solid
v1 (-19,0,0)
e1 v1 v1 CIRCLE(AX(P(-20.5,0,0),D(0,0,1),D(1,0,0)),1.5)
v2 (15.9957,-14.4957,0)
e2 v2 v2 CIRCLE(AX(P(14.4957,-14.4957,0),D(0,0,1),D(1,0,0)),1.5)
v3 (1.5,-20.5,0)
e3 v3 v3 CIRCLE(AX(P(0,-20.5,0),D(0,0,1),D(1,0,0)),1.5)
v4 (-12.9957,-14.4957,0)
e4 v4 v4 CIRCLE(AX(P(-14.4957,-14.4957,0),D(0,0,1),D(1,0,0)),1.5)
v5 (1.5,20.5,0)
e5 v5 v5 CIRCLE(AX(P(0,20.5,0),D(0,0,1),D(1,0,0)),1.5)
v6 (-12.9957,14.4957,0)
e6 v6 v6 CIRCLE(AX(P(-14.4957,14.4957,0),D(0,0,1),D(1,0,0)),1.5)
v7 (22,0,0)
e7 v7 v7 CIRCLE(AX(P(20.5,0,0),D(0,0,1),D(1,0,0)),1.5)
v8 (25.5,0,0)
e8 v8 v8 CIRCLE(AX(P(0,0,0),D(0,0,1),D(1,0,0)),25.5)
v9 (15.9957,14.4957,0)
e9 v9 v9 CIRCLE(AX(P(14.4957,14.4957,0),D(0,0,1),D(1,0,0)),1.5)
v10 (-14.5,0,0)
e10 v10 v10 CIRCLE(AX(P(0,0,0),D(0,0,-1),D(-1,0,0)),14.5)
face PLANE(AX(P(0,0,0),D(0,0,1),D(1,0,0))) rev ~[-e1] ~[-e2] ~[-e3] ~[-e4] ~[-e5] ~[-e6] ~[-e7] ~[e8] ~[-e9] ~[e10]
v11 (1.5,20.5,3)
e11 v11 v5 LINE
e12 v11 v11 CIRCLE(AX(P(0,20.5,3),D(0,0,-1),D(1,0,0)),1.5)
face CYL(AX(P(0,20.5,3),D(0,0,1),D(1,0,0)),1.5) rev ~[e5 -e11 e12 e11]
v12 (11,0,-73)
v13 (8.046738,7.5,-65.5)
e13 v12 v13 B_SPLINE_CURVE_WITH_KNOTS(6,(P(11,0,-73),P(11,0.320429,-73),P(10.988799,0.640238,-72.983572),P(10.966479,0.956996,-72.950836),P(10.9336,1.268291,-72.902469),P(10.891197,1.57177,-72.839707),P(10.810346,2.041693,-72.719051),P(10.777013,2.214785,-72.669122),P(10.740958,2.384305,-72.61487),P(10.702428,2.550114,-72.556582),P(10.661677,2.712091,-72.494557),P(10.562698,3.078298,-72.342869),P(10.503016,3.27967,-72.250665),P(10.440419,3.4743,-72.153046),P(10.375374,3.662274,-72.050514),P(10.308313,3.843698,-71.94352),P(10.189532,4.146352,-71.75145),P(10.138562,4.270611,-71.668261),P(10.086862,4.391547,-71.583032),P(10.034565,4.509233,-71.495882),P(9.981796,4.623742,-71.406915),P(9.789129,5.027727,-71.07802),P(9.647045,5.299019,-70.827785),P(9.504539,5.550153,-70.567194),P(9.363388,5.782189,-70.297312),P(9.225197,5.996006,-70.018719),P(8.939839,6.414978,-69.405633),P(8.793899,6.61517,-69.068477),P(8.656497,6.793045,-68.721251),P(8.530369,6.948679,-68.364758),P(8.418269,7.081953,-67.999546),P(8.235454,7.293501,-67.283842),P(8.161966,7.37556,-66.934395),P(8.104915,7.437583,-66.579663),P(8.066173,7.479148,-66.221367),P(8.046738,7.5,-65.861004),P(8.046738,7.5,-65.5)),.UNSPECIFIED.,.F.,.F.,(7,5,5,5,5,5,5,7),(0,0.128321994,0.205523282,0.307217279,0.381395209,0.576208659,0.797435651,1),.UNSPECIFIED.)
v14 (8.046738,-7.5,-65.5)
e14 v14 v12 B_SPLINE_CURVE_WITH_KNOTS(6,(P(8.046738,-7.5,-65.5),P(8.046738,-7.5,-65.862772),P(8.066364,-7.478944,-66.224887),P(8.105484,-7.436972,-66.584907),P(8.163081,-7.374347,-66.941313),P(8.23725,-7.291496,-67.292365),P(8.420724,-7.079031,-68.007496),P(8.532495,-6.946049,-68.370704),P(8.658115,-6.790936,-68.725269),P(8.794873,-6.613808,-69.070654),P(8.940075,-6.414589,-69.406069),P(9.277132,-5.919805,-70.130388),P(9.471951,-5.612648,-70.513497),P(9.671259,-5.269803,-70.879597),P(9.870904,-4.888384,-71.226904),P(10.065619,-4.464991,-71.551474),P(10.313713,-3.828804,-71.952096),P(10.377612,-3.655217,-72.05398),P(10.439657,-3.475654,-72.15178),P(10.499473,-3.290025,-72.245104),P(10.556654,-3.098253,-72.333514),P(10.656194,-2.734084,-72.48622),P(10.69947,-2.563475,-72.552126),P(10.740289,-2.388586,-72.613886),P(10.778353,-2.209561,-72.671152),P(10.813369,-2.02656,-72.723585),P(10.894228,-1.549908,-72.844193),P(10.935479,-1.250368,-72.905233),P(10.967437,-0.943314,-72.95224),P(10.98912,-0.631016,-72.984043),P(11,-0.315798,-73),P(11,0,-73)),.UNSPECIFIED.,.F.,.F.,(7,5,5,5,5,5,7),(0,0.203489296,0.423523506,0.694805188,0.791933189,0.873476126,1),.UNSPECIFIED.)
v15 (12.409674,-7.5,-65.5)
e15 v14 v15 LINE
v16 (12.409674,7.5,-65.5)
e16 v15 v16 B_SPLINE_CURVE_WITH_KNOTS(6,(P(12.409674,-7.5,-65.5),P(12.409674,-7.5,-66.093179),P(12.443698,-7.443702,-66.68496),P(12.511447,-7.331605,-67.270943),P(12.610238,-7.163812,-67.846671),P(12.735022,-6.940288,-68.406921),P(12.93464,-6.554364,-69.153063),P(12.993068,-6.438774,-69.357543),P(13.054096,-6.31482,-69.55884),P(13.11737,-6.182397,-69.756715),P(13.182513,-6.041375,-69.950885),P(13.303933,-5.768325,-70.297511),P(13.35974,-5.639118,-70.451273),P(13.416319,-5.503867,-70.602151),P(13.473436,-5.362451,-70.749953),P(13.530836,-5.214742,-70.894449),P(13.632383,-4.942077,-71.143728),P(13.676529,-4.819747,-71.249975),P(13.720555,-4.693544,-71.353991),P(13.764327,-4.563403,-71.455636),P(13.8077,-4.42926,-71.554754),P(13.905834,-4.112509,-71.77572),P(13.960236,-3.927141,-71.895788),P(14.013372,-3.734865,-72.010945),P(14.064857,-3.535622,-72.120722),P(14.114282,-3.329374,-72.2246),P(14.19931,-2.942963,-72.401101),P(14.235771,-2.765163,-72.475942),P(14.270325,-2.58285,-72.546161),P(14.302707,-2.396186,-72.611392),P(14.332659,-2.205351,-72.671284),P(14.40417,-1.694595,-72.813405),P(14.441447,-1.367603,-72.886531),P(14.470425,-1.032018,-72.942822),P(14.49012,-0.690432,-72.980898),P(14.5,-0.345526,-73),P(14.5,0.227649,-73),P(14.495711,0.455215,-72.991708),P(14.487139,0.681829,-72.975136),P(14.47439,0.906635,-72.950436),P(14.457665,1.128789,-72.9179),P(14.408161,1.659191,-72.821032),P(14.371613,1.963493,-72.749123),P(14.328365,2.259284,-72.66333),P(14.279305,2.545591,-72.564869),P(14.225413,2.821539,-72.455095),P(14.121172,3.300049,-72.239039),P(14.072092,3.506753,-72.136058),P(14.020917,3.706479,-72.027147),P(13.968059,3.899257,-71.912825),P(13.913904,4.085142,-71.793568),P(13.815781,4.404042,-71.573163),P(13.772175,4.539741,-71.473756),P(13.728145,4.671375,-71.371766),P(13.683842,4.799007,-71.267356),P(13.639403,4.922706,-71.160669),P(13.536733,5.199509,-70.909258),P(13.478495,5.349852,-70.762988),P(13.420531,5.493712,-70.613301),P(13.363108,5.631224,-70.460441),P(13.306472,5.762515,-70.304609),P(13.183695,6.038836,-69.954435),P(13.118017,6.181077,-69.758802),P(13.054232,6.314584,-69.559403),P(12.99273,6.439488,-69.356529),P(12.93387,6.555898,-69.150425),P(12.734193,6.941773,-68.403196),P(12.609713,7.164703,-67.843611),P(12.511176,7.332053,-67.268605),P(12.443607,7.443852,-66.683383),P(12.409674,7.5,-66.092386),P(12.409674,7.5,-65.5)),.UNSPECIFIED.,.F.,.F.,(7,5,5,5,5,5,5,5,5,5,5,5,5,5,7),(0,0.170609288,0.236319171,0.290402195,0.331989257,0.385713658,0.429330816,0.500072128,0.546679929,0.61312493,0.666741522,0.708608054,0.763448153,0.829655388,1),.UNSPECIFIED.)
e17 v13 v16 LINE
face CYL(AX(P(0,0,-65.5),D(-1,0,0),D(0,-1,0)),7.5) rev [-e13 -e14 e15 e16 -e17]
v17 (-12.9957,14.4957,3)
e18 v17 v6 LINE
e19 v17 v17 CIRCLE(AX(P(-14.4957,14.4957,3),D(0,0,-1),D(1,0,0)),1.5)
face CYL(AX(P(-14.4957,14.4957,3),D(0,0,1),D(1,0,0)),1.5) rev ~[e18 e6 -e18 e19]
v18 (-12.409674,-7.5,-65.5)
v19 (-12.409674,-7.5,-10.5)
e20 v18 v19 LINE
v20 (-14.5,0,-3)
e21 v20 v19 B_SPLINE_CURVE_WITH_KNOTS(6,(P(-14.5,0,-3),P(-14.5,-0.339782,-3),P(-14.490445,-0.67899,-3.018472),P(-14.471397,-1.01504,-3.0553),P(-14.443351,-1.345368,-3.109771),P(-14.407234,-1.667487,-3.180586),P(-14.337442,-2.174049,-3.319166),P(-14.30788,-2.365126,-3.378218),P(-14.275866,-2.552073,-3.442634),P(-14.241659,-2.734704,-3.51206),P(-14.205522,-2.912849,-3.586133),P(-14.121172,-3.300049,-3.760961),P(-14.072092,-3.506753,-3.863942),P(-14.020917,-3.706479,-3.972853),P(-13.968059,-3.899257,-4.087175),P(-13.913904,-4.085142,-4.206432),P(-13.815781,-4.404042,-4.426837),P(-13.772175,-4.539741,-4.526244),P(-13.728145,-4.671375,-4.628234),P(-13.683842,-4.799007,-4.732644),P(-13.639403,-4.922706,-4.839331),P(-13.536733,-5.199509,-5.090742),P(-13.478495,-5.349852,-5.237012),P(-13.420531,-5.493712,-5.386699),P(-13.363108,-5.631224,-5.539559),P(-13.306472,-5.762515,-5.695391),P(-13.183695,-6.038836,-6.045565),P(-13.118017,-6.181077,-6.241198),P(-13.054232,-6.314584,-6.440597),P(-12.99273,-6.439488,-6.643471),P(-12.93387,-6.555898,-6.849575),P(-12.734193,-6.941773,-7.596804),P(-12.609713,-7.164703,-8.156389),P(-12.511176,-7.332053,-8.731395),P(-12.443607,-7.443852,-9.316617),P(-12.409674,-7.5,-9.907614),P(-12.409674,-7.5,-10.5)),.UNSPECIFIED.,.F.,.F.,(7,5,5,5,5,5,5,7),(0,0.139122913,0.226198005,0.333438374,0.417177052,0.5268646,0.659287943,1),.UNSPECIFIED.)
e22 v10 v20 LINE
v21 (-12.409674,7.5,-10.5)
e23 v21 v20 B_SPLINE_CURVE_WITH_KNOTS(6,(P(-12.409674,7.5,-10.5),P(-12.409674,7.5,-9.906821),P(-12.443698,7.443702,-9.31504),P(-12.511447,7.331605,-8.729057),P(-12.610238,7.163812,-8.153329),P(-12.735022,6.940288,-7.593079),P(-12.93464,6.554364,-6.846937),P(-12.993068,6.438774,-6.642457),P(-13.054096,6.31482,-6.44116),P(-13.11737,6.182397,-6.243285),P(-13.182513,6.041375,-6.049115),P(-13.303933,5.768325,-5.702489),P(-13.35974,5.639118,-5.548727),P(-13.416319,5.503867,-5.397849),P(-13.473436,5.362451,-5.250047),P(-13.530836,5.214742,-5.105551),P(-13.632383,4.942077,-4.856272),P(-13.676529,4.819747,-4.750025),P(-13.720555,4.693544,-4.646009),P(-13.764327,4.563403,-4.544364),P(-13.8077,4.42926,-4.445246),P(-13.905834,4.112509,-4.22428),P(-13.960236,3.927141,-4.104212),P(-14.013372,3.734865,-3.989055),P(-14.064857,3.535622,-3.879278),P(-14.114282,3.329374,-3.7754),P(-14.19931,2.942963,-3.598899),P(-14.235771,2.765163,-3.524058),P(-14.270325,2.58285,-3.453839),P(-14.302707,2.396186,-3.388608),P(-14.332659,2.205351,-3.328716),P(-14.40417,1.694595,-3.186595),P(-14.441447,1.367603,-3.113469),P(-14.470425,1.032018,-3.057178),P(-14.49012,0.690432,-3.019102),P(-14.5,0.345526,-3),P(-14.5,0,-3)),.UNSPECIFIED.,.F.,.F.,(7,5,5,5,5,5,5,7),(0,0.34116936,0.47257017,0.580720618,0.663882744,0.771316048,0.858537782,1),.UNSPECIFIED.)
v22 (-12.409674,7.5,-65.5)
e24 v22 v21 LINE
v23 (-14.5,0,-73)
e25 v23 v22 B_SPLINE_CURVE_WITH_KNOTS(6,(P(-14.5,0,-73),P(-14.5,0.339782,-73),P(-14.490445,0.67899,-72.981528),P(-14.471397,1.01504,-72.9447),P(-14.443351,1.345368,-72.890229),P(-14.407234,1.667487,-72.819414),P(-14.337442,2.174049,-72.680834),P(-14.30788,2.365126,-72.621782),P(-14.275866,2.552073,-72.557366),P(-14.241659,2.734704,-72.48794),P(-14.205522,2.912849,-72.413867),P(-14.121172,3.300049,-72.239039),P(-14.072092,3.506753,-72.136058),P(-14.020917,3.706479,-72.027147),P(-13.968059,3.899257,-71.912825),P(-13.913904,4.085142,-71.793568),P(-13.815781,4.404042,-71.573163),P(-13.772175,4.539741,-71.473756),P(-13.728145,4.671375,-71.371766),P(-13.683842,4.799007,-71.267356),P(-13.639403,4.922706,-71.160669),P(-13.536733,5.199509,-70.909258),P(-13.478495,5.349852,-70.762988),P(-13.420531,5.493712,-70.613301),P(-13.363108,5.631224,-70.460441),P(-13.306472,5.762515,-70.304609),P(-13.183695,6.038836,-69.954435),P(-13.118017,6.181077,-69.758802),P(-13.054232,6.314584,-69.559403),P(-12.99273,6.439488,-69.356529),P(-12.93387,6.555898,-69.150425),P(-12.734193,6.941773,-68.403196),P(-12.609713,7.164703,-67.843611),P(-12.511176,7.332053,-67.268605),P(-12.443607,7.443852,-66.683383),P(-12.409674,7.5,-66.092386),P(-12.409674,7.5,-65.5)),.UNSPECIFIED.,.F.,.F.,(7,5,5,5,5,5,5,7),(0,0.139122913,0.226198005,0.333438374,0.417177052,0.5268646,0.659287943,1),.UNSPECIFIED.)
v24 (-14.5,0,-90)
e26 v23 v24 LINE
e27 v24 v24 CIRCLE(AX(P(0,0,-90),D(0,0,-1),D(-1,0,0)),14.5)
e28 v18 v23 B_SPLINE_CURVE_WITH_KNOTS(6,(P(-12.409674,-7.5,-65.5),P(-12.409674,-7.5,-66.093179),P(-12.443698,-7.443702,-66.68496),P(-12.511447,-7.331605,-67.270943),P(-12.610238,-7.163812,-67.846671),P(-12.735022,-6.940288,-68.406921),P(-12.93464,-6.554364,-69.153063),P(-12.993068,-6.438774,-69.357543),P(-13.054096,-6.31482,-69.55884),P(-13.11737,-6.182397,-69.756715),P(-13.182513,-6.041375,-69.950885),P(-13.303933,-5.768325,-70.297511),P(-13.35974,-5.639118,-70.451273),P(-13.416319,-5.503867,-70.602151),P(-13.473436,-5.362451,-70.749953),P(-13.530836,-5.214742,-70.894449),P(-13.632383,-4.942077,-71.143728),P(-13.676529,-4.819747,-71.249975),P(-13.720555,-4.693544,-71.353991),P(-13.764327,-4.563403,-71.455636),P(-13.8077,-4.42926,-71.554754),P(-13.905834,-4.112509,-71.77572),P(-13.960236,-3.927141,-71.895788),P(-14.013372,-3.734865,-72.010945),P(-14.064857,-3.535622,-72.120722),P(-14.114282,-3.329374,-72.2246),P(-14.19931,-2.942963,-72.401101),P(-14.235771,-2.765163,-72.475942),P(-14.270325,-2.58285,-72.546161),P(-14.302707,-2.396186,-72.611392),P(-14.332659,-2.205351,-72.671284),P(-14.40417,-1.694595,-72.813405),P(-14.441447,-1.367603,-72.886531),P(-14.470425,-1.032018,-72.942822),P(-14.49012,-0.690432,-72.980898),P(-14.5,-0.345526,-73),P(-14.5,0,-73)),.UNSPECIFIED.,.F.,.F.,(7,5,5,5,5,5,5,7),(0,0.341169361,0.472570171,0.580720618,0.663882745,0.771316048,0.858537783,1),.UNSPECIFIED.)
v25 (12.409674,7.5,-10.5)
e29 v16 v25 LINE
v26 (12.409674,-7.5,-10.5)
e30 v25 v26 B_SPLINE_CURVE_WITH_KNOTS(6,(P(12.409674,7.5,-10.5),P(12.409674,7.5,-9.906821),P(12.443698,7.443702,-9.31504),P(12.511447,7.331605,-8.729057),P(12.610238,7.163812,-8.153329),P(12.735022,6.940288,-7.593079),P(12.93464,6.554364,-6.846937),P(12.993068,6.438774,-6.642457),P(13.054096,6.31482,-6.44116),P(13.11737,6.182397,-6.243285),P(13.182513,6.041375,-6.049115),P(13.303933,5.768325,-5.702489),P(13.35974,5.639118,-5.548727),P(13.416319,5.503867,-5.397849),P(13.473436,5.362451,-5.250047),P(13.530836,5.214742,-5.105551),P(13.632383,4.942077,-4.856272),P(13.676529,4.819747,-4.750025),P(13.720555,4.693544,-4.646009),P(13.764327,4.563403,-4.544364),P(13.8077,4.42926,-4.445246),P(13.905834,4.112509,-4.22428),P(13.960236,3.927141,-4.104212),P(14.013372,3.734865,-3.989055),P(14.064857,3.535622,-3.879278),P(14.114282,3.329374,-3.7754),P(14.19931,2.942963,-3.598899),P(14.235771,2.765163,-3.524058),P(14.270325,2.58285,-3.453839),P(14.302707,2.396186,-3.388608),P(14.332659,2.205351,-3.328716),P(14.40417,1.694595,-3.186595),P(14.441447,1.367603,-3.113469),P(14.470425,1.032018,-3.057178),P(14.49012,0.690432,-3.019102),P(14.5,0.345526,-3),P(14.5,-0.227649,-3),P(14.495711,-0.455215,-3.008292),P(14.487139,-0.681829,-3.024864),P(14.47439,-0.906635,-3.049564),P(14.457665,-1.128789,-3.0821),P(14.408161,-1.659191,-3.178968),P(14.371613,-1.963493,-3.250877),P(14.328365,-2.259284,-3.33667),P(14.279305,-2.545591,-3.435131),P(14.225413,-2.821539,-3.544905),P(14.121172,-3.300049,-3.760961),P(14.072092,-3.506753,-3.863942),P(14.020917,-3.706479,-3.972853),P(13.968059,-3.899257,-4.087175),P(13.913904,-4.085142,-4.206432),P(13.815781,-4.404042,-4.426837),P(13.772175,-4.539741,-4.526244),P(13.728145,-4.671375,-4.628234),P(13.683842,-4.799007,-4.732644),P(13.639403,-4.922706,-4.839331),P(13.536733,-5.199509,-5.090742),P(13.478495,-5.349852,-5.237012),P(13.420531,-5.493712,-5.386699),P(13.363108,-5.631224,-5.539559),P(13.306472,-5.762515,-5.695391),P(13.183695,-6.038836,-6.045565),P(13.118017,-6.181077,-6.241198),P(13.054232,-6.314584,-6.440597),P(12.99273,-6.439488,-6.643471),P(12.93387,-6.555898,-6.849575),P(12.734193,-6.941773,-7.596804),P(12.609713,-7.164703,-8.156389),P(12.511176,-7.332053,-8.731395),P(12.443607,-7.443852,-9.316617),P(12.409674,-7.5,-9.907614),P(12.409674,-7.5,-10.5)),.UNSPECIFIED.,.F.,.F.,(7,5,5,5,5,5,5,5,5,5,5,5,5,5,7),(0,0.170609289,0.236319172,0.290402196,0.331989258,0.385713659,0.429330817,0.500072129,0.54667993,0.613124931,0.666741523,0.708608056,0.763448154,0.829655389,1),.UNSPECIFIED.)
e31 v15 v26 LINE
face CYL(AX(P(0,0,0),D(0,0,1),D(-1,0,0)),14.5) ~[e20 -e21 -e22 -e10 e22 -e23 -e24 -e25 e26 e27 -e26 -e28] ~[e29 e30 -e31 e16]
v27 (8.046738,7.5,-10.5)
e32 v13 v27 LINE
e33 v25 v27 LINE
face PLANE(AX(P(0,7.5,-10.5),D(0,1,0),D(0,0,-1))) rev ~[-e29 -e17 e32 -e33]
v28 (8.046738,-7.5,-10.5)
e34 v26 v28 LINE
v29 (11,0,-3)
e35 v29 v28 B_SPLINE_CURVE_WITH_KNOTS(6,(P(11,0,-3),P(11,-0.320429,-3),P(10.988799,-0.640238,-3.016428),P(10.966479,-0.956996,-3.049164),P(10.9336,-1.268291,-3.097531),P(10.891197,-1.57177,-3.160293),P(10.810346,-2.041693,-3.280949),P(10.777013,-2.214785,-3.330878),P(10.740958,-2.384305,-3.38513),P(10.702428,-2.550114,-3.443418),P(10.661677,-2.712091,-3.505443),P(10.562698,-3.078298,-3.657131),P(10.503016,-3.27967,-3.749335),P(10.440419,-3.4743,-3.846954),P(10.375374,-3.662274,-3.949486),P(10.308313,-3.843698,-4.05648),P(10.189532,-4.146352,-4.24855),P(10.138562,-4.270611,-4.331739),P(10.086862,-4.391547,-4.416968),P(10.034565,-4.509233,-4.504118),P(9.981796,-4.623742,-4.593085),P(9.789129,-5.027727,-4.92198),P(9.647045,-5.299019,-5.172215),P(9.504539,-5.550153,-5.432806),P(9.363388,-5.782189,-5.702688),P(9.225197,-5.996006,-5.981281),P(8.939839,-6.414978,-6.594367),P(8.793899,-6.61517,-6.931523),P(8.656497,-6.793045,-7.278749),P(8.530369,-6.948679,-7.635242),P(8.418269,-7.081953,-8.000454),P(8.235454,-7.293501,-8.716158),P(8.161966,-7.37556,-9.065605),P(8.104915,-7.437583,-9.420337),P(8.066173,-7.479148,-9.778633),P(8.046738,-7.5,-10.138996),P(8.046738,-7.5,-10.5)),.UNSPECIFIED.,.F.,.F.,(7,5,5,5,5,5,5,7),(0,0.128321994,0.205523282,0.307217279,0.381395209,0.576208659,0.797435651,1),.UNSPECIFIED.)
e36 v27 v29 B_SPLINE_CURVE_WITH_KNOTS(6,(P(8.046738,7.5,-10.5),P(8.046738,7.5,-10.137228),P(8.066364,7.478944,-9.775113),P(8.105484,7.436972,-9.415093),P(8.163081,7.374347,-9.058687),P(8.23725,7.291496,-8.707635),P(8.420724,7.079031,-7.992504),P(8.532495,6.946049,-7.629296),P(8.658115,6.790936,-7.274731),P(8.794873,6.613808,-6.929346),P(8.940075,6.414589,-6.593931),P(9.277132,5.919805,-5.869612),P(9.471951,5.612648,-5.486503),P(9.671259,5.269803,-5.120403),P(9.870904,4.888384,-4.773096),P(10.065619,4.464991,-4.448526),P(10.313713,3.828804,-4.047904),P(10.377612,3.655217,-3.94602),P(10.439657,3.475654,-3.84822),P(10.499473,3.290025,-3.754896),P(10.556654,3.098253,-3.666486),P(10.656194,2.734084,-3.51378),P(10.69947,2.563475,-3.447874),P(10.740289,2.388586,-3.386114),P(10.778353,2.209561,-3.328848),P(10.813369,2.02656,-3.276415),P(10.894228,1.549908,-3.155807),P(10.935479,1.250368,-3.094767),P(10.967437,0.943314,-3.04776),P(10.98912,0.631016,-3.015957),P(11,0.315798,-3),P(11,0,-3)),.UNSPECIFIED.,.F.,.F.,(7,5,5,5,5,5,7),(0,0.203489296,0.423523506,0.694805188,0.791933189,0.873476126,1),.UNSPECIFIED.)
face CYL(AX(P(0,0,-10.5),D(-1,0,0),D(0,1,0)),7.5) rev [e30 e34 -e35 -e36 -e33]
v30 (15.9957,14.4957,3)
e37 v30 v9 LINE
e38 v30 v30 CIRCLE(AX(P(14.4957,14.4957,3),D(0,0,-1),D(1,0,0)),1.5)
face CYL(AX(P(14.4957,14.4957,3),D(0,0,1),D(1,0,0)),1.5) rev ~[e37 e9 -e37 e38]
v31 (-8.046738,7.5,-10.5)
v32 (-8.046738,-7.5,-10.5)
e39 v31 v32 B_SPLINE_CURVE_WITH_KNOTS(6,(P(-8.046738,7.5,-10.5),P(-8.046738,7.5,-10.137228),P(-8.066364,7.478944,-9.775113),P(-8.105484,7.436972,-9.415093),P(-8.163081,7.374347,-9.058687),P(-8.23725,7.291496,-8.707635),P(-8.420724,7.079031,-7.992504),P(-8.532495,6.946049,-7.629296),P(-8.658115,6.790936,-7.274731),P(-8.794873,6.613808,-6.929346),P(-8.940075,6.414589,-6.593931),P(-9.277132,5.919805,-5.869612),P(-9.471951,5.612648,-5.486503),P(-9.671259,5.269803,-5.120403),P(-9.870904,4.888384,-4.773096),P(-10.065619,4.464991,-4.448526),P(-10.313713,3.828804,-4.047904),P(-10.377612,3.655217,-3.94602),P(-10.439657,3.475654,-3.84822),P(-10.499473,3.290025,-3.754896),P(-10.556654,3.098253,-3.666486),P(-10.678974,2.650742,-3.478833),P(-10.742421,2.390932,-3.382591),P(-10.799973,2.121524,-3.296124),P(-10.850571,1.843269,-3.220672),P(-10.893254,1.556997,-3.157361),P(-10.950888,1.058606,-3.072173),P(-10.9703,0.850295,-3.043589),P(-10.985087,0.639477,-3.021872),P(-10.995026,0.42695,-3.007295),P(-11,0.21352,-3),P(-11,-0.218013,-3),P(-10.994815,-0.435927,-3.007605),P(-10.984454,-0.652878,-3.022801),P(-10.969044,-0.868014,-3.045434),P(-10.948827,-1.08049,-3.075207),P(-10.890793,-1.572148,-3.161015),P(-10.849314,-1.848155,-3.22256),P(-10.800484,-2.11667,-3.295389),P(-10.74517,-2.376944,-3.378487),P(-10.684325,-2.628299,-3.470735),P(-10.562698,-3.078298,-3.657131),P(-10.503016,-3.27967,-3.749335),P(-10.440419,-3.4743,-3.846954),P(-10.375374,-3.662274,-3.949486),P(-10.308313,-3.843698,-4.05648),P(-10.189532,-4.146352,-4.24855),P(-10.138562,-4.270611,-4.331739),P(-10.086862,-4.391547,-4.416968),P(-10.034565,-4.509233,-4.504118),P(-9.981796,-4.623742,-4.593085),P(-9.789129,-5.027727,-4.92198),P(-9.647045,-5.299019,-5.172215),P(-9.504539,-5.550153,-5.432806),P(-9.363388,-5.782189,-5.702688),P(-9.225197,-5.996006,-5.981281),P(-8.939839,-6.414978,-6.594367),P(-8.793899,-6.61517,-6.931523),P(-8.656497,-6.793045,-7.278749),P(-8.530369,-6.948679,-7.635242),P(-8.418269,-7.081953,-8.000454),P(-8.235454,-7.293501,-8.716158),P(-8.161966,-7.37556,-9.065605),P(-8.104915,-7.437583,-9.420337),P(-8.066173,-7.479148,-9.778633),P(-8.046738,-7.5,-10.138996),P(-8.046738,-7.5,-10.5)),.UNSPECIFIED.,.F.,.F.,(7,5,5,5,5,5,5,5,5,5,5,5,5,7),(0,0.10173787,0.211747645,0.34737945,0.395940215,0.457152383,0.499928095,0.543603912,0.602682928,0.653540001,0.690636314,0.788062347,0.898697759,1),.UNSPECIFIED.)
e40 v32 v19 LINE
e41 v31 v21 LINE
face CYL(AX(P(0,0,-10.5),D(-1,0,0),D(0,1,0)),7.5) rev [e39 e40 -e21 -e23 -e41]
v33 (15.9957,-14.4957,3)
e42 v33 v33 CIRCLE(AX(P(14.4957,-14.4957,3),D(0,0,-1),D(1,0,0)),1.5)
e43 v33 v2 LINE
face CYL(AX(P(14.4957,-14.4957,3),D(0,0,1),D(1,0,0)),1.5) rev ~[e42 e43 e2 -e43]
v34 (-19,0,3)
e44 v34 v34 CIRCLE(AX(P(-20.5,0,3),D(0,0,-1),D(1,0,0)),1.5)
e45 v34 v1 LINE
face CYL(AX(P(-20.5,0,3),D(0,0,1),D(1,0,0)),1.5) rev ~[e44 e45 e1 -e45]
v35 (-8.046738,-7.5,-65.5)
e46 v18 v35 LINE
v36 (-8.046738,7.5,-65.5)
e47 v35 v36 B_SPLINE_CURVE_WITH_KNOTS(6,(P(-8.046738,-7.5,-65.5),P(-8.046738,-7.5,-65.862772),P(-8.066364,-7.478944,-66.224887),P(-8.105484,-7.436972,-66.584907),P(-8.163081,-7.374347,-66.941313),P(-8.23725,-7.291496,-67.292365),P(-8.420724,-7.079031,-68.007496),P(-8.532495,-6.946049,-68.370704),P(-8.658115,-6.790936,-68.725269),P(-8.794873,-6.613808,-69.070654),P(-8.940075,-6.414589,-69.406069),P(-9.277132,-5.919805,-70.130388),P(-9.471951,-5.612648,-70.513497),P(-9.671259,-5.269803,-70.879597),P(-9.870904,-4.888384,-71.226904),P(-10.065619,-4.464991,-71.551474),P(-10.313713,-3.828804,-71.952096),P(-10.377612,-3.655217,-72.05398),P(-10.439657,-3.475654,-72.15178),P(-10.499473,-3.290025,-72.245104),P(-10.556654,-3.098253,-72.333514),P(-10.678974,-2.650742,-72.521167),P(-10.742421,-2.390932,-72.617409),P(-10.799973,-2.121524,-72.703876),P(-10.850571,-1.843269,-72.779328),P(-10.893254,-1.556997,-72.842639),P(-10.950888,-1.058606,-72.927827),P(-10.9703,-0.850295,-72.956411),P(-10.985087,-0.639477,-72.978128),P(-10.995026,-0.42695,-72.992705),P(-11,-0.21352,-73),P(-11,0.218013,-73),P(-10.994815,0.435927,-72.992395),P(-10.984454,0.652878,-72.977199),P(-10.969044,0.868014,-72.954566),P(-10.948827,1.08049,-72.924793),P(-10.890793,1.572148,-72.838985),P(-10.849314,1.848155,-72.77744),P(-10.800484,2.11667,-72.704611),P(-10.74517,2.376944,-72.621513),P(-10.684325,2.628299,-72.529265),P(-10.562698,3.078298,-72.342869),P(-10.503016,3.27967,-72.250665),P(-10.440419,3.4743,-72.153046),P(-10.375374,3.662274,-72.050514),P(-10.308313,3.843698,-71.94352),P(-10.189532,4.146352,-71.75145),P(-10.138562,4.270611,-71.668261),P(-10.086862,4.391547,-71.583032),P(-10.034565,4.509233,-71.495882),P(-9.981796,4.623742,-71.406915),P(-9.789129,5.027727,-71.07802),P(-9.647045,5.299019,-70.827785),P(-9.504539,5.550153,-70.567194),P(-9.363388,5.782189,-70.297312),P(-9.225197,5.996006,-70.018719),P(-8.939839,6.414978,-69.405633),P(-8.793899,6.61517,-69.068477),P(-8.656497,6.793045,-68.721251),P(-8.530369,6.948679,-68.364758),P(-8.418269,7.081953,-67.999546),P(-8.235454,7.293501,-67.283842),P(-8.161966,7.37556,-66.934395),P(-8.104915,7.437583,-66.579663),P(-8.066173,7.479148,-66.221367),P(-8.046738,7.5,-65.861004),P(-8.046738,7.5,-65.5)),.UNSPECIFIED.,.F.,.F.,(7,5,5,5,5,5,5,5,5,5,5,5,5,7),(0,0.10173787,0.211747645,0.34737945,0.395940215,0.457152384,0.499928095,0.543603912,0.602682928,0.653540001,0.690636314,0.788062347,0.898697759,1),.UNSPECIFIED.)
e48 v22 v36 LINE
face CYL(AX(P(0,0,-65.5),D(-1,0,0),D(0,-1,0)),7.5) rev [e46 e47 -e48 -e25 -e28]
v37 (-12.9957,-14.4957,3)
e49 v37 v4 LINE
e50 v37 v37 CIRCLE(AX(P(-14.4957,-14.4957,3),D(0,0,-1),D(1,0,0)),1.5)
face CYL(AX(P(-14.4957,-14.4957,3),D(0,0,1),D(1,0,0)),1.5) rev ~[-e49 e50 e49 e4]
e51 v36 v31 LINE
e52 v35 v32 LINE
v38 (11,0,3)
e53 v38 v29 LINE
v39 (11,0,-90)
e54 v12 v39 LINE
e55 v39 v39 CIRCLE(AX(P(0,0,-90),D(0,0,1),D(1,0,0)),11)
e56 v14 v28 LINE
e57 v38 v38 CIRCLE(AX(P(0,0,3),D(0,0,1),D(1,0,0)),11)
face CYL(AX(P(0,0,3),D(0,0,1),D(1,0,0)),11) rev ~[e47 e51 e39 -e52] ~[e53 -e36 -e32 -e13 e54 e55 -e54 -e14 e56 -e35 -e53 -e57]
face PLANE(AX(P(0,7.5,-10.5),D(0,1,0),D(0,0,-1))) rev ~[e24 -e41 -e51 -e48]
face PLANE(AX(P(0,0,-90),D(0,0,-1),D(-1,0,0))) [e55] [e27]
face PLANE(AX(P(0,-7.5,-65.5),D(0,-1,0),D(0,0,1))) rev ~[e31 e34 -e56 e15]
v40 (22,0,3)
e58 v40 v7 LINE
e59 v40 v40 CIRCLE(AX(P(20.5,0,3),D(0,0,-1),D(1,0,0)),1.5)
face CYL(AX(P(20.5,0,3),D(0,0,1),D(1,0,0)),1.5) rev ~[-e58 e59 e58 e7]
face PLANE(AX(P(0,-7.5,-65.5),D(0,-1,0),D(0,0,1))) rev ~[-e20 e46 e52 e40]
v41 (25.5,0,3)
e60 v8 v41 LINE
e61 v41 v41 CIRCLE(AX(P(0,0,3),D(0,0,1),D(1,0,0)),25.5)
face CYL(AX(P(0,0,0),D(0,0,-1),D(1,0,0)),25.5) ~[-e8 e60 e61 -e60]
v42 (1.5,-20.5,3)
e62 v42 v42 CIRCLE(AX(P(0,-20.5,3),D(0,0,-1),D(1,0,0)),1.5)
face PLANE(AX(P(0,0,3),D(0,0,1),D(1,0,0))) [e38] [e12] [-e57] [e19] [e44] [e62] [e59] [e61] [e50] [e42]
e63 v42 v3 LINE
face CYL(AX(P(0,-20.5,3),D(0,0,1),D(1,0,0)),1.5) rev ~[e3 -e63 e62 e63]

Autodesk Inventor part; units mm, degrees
ref_plane "YZ Plane" through (0, 0, 0) normal (1, 0, 0) x (0, 1, 0)
ref_plane "XZ Plane" through (0, 0, 0) normal (0, 1, 0) x (-1, 0, 0)
ref_plane "XY Plane" through (0, 0, 0) normal (0, 0, 1) x (1, 0, 0)
sketch "Sketch1" plane through (0, 0, 0) normal (0, 0, 1) x (1, 0, 0)
  circle A0 centre (0, 0) radius 25.5
  dimension "d0" = 51
extrude "Extrusion1" add sketch "Sketch1" along normal blind 3
sketch "Sketch2" plane through (0, 0, 0) normal (0, 0, -1) x (-1, 0, 0)
  circle A0 centre (0, 0) radius 25.5 projected
  circle A1 centre (0, 0) radius 14.5
  dimension "d3" = 29
extrude "Extrusion2" add sketch "Sketch2" along normal blind 90 contours A1
sketch "Sketch3" plane through (0, 0, 3) normal (0, 0, 1) x (1, 0, 0)
  circle A0 centre (0, 0) radius 25.5 projected
  circle A1 centre (0, 0) radius 20.5
  circle A2 centre (0, 20.5) radius 1.5
  circle A3 centre (-14.4957, 14.4957) radius 1.5
  circle A4 centre (-20.5, 0) radius 1.5
  circle A5 centre (-14.4957, -14.4957) radius 1.5
  circle A6 centre (0, -20.5) radius 1.5
  circle A7 centre (14.4957, -14.4957) radius 1.5
  circle A8 centre (20.5, 0) radius 1.5
  circle A9 centre (14.4957, 14.4957) radius 1.5
  dimension "d6" = 41
  dimension "d7" = 3
  dimension "d10" = 360
extrude "Extrusion3" cut sketch "Sketch3" against normal through all contours A1 A8 | A1 A8 | A9 A1 | A1 A9 | A7 A1 | A1 A7 | A2 A1 | A1 A2 | A6 A1 | A1 A6 | A3 A1 | A1 A3 | A5 A1 | A1 A5 | A4 A1 | A1 A4
sketch "Sketch4" plane through (0, 0, 3) normal (0, 0, 1) x (1, 0, 0)
  circle A0 centre (0, 0) radius 25.5 projected
  circle A1 centre (0, 0) radius 11
  dimension "d14" = 22
extrude "Extrusion4" cut sketch "Sketch4" against normal through all contours A1
sketch "Sketch5" plane through (0, 0, 0) normal (1, 0, 0) x (0, 1, 0)
  line L0 (0, -10.5) -> (0, -65.5)
  arc A0 (-7.5, -65.5) -> (7.5, -65.5) centre (0, -65.5) ccw
  arc A1 (7.5, -10.5) -> (-7.5, -10.5) centre (0, -10.5) ccw
  line L1 (7.5, -10.5) -> (7.5, -65.5)
  line L2 (-7.5, -65.5) -> (-7.5, -10.5)
  line L3 (25.5, 3) -> (-25.5, 3) projected
  point P0 (0, 0)
  point P1 (0, -3)
  point P2 (0, 3)
  dimension "d17" = 7.5
  dimension "d18" = 7.5
  dimension "d22" = 55
  dimension "d23" = 13.5
extrude "Extrusion5" cut sketch "Sketch5" along normal through all both and the other way through all
properties part number "11 CROSSHEAD GUIDE" material "Steel AISI 1020 107 HR"
